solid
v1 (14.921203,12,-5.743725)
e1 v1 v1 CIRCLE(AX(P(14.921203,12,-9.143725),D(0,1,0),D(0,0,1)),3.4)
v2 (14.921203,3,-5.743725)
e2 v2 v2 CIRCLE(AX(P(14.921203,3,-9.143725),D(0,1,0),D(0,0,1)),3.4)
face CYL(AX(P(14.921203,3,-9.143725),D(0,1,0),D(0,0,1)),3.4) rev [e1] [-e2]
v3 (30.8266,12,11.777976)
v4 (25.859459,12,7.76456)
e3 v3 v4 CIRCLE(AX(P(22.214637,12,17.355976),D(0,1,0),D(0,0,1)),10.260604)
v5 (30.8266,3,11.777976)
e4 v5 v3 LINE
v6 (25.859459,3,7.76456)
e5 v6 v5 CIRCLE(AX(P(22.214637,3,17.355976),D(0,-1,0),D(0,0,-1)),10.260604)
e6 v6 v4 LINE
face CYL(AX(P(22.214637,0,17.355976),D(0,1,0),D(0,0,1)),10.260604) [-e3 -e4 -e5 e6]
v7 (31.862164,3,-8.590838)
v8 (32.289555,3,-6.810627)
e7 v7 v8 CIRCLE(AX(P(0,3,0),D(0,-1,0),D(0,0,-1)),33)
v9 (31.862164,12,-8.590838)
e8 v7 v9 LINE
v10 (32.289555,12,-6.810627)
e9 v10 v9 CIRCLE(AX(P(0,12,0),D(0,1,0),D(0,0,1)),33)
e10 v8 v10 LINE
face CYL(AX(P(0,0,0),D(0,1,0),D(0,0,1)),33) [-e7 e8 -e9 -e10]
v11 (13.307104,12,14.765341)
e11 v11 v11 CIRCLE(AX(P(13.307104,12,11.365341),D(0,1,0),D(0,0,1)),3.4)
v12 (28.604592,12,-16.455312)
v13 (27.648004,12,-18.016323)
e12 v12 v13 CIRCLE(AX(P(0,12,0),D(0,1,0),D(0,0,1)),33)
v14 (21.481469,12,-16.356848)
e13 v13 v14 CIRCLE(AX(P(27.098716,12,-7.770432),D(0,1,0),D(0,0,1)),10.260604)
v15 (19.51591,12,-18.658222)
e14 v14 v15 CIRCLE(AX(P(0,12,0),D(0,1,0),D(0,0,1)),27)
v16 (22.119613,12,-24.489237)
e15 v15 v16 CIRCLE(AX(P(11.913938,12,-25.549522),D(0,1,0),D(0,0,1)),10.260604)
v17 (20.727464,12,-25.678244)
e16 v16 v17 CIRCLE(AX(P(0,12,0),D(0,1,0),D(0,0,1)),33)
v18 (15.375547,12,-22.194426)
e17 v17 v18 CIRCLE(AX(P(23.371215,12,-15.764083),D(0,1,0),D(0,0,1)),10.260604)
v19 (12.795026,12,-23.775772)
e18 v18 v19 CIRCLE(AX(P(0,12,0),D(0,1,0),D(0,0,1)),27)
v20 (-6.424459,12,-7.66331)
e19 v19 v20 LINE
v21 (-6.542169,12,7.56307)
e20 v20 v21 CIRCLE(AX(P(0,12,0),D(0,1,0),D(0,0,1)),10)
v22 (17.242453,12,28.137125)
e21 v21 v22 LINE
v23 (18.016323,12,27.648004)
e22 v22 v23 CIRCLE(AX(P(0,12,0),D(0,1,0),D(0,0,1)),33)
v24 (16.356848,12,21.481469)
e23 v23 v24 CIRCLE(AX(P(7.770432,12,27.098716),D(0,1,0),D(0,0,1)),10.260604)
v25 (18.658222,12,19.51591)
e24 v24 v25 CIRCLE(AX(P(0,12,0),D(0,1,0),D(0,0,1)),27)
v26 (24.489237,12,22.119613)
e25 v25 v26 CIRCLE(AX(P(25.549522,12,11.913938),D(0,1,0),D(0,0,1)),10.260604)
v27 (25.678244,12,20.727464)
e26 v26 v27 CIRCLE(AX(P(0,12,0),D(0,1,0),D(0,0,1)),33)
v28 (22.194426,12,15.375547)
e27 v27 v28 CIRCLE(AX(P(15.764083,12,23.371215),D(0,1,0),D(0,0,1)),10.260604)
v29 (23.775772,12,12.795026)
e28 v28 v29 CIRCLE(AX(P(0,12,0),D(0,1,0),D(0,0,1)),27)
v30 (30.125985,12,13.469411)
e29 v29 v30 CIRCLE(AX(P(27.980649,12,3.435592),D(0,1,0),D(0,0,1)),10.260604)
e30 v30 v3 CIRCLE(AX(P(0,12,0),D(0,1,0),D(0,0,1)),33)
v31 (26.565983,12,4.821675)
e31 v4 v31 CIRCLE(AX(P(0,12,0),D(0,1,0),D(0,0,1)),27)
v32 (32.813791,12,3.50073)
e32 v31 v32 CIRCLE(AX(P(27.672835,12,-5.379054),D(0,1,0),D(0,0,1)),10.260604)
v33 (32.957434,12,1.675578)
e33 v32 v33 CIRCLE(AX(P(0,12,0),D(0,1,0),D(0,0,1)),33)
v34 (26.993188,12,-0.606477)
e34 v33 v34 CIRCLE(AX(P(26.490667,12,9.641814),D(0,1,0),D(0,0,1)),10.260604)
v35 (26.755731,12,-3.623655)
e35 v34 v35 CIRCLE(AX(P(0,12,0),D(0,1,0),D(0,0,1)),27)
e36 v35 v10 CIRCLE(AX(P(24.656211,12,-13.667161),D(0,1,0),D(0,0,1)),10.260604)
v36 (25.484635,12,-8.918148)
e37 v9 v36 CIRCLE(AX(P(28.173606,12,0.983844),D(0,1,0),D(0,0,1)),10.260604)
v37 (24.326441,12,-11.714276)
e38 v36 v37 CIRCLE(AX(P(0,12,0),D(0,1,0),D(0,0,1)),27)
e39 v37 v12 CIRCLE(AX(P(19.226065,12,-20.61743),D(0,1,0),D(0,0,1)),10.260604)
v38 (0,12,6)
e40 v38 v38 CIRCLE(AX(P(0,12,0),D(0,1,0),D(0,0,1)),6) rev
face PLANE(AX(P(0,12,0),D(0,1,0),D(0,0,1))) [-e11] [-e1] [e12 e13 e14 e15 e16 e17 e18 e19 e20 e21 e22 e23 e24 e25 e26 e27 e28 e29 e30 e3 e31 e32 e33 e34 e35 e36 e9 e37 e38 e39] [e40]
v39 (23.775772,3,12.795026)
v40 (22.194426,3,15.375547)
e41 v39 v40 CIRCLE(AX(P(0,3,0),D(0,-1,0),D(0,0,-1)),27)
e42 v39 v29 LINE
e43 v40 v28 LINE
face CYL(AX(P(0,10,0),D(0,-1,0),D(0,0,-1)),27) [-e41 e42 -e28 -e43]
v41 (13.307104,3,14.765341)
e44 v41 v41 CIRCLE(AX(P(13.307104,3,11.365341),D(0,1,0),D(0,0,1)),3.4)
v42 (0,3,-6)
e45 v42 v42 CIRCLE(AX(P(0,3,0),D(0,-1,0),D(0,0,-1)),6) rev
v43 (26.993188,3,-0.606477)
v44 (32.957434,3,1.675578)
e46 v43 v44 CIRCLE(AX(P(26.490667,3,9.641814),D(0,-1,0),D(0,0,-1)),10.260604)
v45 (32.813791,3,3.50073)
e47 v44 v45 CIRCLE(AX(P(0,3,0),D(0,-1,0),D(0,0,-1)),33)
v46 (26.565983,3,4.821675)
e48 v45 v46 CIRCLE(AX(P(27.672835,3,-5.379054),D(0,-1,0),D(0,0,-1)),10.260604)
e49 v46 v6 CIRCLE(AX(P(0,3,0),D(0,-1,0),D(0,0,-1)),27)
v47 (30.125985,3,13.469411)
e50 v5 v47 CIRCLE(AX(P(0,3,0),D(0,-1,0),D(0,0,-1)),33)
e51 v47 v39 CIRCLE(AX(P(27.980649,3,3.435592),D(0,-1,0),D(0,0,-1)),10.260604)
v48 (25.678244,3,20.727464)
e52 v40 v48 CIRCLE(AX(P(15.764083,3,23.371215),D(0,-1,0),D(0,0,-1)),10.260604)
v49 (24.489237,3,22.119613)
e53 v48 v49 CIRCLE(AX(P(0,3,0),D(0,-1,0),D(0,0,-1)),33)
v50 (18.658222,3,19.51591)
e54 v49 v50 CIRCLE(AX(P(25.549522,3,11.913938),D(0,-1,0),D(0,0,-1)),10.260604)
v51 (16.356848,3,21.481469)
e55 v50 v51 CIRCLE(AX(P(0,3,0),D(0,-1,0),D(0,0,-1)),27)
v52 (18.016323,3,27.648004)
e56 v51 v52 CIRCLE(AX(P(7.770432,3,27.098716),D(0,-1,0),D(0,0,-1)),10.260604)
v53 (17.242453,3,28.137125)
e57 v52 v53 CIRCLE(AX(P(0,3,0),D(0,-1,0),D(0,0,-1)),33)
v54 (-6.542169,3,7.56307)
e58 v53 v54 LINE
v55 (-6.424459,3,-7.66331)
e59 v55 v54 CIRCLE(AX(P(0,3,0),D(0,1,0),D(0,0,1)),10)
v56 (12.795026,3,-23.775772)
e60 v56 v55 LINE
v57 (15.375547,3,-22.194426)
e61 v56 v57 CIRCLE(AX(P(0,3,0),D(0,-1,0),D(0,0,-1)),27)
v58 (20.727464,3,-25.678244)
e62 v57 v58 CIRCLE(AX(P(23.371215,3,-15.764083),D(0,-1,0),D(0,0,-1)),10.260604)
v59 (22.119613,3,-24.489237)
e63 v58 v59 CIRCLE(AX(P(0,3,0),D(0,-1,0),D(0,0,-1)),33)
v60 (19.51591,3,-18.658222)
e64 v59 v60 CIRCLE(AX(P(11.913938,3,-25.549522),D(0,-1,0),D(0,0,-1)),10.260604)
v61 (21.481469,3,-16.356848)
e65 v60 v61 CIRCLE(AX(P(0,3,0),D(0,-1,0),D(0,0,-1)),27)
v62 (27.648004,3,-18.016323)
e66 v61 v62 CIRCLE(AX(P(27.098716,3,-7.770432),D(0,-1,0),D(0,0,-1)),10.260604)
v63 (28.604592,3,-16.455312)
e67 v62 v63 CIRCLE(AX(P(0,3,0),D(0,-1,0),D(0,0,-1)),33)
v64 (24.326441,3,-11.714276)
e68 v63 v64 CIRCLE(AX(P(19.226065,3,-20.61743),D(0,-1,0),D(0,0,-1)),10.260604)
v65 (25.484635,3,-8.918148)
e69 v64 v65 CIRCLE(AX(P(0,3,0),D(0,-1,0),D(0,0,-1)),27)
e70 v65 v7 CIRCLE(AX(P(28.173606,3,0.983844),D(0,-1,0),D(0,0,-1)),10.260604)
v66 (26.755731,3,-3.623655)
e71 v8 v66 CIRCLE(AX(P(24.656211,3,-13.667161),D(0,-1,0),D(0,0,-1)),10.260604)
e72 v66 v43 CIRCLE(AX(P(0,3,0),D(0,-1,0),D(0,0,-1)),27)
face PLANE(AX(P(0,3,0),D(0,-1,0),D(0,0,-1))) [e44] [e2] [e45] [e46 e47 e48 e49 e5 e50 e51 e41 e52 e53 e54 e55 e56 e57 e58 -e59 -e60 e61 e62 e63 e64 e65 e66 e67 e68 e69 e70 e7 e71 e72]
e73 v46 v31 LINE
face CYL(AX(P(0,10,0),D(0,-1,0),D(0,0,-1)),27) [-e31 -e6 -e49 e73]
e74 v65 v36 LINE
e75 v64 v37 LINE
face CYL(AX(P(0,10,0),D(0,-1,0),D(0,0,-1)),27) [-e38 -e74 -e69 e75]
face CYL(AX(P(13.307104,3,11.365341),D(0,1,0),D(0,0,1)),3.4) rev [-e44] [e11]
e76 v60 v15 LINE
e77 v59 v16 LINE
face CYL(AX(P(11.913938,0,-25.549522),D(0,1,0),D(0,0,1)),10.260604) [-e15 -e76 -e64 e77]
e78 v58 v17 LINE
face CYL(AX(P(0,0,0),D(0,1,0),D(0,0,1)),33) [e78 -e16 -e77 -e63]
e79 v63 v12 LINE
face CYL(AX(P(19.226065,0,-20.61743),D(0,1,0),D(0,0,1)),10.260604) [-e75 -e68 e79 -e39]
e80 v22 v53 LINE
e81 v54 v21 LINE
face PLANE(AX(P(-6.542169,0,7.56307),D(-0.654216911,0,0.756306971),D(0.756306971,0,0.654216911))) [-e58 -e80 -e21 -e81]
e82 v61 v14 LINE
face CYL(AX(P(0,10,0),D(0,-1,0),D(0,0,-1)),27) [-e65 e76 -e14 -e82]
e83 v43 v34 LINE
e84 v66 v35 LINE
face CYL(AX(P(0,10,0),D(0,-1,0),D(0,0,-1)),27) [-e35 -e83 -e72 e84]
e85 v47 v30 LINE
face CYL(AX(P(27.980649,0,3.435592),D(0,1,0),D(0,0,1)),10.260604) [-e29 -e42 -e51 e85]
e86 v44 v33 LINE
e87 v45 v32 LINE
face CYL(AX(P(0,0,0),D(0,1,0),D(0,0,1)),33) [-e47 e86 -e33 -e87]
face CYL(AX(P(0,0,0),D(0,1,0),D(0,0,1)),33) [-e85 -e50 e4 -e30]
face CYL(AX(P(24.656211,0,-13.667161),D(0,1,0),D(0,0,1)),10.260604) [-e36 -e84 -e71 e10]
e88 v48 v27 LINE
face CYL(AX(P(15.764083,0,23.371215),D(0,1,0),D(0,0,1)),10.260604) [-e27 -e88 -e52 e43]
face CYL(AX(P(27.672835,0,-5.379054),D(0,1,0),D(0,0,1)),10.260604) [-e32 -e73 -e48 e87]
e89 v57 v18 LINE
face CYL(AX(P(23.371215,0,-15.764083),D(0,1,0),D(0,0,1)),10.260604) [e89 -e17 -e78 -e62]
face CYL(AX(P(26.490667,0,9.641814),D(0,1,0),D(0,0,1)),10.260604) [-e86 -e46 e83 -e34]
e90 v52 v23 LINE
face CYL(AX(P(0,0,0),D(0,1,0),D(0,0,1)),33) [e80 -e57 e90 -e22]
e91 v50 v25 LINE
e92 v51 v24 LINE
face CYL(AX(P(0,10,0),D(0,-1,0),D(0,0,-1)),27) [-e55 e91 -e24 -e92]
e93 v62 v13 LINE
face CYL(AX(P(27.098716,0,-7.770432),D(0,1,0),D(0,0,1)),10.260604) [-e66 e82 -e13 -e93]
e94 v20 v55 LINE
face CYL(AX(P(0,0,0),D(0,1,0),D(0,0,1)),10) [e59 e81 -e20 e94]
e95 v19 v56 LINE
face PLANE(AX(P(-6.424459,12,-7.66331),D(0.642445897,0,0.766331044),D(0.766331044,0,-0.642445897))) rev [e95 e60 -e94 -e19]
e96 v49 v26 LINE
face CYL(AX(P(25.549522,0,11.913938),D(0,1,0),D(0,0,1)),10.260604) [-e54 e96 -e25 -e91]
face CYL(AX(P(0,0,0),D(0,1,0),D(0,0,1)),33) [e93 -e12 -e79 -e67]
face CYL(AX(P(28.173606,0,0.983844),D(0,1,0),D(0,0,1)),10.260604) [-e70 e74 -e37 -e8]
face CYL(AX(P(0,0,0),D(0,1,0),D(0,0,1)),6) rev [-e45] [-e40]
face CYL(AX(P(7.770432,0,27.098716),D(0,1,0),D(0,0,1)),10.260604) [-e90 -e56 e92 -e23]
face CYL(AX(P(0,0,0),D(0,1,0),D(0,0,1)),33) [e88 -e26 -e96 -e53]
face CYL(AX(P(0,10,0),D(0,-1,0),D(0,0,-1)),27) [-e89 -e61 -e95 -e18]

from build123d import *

# Parameters (mm, degrees)
EXTRUDE_2_DEPTH      = 10
EXTRUDE_START        = -10
EXTRUDE_3_DEPTH      = 10
CUT_EXTRUDE_2_DEPTH  = 48.669538272
SKETCH_6_R           = 6
CUT_EXTRUDE_3_DEPTH  = 10
EXTRUDE_5_DEPTH      = 10
CUT_EXTRUDE_5_DEPTH  = 10
CUT_EXTRUDE_START    = -10
CUT_EXTRUDE_6_DEPTH  = 10
FILLET_1_R           = 10
EXTRUDE_7_DEPTH      = 10
CUT_EXTRUDE_START_2  = -7
CUT_EXTRUDE_8_DEPTH  = 7
SKETCH_18_R          = 6
EXTRUDE_8_DEPTH      = 9
CUT_EXTRUDE_9_DEPTH  = 3
SKETCH_20_R          = 3.4
CUT_EXTRUDE_10_DEPTH = 45.259352307


with BuildPart() as part:
    # 草图1 → 凸台-拉伸2 (new body)
    with BuildSketch(Plane(origin=(0, 0, 0), x_dir=(1, 0, 0), z_dir=(0, 1, 0))):
        with BuildLine():
            ThreePointArc((-0.606477084, 26.993187762), (-18.876243253, -19.305114365), (27, 0))
            ThreePointArc((27, 0), (20.726616116, 17.303392279), (4.821675232, 26.56598291))
            ThreePointArc((4.821675232, 26.56598291), (2.118395585, 26.916768011), (-0.606477084, 26.993187762))
        make_face()
    extrude(amount=EXTRUDE_2_DEPTH)

    # 草图3 → 凸台-拉伸3 (add)
    with BuildSketch(Plane(origin=(0, 10, 0), x_dir=(1, 0, 0), z_dir=(0, 1, 0)).offset(EXTRUDE_START)):
        with BuildLine():
            ThreePointArc((26.755730746, 3.623654542), (29.776890365, 4.775668185), (32.289554959, 6.810627033))
            ThreePointArc((32.289554959, 6.810627033), (32.088207373, 7.703697007), (31.862164101, 8.590838072))
            ThreePointArc((31.862164101, 8.590838072), (28.699511571, 9.263273827), (25.484635391, 8.918147734))
            ThreePointArc((25.484635391, 8.918147734), (26.253987851, 6.303024824), (26.755730746, 3.623654542))
        make_face()
        with BuildLine():
            ThreePointArc((32.813791147, -3.500730003), (32.898272013, -2.589150159), (32.957433752, -1.675577656))
            ThreePointArc((32.957433752, -1.675577656), (30.15736653, -0.05873987), (26.993187762, 0.606477084))
            ThreePointArc((26.993187762, 0.606477084), (26.916768011, -2.118395585), (26.56598291, -4.821675232))
            ThreePointArc((26.56598291, -4.821675232), (29.795268245, -4.659634815), (32.813791147, -3.500730003))
        make_face()
        with BuildLine():
            ThreePointArc((24.326441239, 11.714275763), (26.843742988, 13.743495509), (28.604592156, 16.455312443))
            ThreePointArc((28.604592156, 16.455312443), (28.137125424, 17.242452636), (27.648003832, 18.016322714))
            ThreePointArc((27.648003832, 18.016322714), (24.432348458, 17.678533741), (21.481469346, 16.356847947))
            ThreePointArc((21.481469346, 16.356847947), (23.021284438, 14.107461247), (24.326441239, 11.714275763))
        make_face()
        with BuildLine():
            ThreePointArc((30.125984831, -13.469411196), (30.488024573, -12.628553268), (30.826600159, -11.777976169))
            ThreePointArc((30.826600159, -11.777976169), (28.663208335, -9.3750037), (25.859458842, -7.764559768))
            ThreePointArc((25.859458842, -7.764559768), (24.944747378, -10.332452674), (23.77577157, -12.79502584))
            ThreePointArc((23.77577157, -12.79502584), (26.897077674, -13.638820294), (30.125984831, -13.469411196))
        make_face()
        with BuildLine():
            ThreePointArc((19.515910171, 18.658222053), (21.282943016, 21.366013737), (22.119612574, 24.48923722))
            ThreePointArc((22.119612574, 24.48923722), (21.431785595, 25.093396865), (20.727464312, 25.678244161))
            ThreePointArc((20.727464312, 25.678244161), (17.773576848, 24.363295599), (15.375547411, 22.194425918))
            ThreePointArc((15.375547411, 22.194425918), (17.535097305, 20.530961071), (19.515910171, 18.658222053))
        make_face()
        with BuildLine():
            ThreePointArc((24.48923722, -22.119612574), (25.093396865, -21.431785595), (25.678244161, -20.727464312))
            ThreePointArc((25.678244161, -20.727464312), (24.363295599, -17.773576848), (22.194425918, -15.375547411))
            ThreePointArc((22.194425918, -15.375547411), (20.530961071, -17.535097305), (18.658222053, -19.515910171))
            ThreePointArc((18.658222053, -19.515910171), (21.366013737, -21.282943016), (24.48923722, -22.119612574))
        make_face()
        with BuildLine():
            ThreePointArc((12.79502584, 23.77577157), (13.638820294, 26.897077674), (13.469411196, 30.125984831))
            ThreePointArc((13.469411196, 30.125984831), (12.628553268, 30.488024573), (11.777976169, 30.826600159))
            ThreePointArc((11.777976169, 30.826600159), (9.3750037, 28.663208335), (7.764559768, 25.859458842))
            ThreePointArc((7.764559768, 25.859458842), (10.332452674, 24.944747378), (12.79502584, 23.77577157))
        make_face()
        with BuildLine():
            ThreePointArc((16.455312443, -28.604592156), (17.242452636, -28.137125424), (18.016322714, -27.648003832))
            ThreePointArc((18.016322714, -27.648003832), (17.678533741, -24.432348458), (16.356847947, -21.481469346))
            ThreePointArc((16.356847947, -21.481469346), (14.107461247, -23.021284438), (11.714275763, -24.326441239))
            ThreePointArc((11.714275763, -24.326441239), (13.743495509, -26.843742988), (16.455312443, -28.604592156))
        make_face()
        with BuildLine():
            ThreePointArc((4.821675232, 26.56598291), (4.659634815, 29.795268245), (3.500730003, 32.813791147))
            ThreePointArc((3.500730003, 32.813791147), (2.589150159, 32.898272013), (1.675577656, 32.957433752))
            ThreePointArc((1.675577656, 32.957433752), (0.05873987, 30.15736653), (-0.606477084, 26.993187762))
            ThreePointArc((-0.606477084, 26.993187762), (2.118395585, 26.916768011), (4.821675232, 26.56598291))
        make_face()
        with BuildLine():
            ThreePointArc((6.810627033, -32.289554959), (7.703697007, -32.088207373), (8.590838072, -31.862164101))
            ThreePointArc((8.590838072, -31.862164101), (9.263273827, -28.699511571), (8.918147734, -25.484635391))
            ThreePointArc((8.918147734, -25.484635391), (6.303024824, -26.253987851), (3.623654542, -26.755730746))
            ThreePointArc((3.623654542, -26.755730746), (4.775668185, -29.776890365), (6.810627033, -32.289554959))
        make_face()
        with BuildLine():
            ThreePointArc((-3.623654542, 26.755730746), (-4.775668185, 29.776890365), (-6.810627033, 32.289554959))
            ThreePointArc((-6.810627033, 32.289554959), (-7.703697007, 32.088207373), (-8.590838072, 31.862164101))
            ThreePointArc((-8.590838072, 31.862164101), (-9.263273827, 28.699511571), (-8.918147734, 25.484635391))
            ThreePointArc((-8.918147734, 25.484635391), (-6.303024824, 26.253987851), (-3.623654542, 26.755730746))
        make_face()
        with BuildLine():
            ThreePointArc((-3.500730003, -32.813791147), (-2.589150159, -32.898272013), (-1.675577656, -32.957433752))
            ThreePointArc((-1.675577656, -32.957433752), (-0.05873987, -30.15736653), (0.606477084, -26.993187762))
            ThreePointArc((0.606477084, -26.993187762), (-2.118395585, -26.916768011), (-4.821675232, -26.56598291))
            ThreePointArc((-4.821675232, -26.56598291), (-4.659634815, -29.795268245), (-3.500730003, -32.813791147))
        make_face()
        with BuildLine():
            ThreePointArc((-11.714275763, 24.326441239), (-13.743495509, 26.843742988), (-16.455312443, 28.604592156))
            ThreePointArc((-16.455312443, 28.604592156), (-17.242452636, 28.137125424), (-18.016322714, 27.648003832))
            ThreePointArc((-18.016322714, 27.648003832), (-17.678533741, 24.432348458), (-16.356847947, 21.481469346))
            ThreePointArc((-16.356847947, 21.481469346), (-14.107461247, 23.021284438), (-11.714275763, 24.326441239))
        make_face()
        with BuildLine():
            ThreePointArc((-13.469411196, -30.125984831), (-12.628553268, -30.488024573), (-11.777976169, -30.826600159))
            ThreePointArc((-11.777976169, -30.826600159), (-9.3750037, -28.663208335), (-7.764559768, -25.859458842))
            ThreePointArc((-7.764559768, -25.859458842), (-10.332452674, -24.944747378), (-12.79502584, -23.77577157))
            ThreePointArc((-12.79502584, -23.77577157), (-13.638820294, -26.897077674), (-13.469411196, -30.125984831))
        make_face()
        with BuildLine():
            ThreePointArc((-18.658222053, 19.515910171), (-21.366013737, 21.282943016), (-24.48923722, 22.119612574))
            ThreePointArc((-24.48923722, 22.119612574), (-25.093396865, 21.431785595), (-25.678244161, 20.727464312))
            ThreePointArc((-25.678244161, 20.727464312), (-24.363295599, 17.773576848), (-22.194425918, 15.375547411))
            ThreePointArc((-22.194425918, 15.375547411), (-20.530961071, 17.535097305), (-18.658222053, 19.515910171))
        make_face()
        with BuildLine():
            ThreePointArc((-22.119612574, -24.48923722), (-21.431785595, -25.093396865), (-20.727464312, -25.678244161))
            ThreePointArc((-20.727464312, -25.678244161), (-17.773576848, -24.363295599), (-15.375547411, -22.194425918))
            ThreePointArc((-15.375547411, -22.194425918), (-17.535097305, -20.530961071), (-19.515910171, -18.658222053))
            ThreePointArc((-19.515910171, -18.658222053), (-21.282943016, -21.366013737), (-22.119612574, -24.48923722))
        make_face()
        with BuildLine():
            ThreePointArc((-23.77577157, 12.79502584), (-26.897077674, 13.638820294), (-30.125984831, 13.469411196))
            ThreePointArc((-30.125984831, 13.469411196), (-30.488024573, 12.628553268), (-30.826600159, 11.777976169))
            ThreePointArc((-30.826600159, 11.777976169), (-28.663208335, 9.3750037), (-25.859458842, 7.764559768))
            ThreePointArc((-25.859458842, 7.764559768), (-24.944747378, 10.332452674), (-23.77577157, 12.79502584))
        make_face()
        with BuildLine():
            ThreePointArc((-28.604592156, -16.455312443), (-28.137125424, -17.242452636), (-27.648003832, -18.016322714))
            ThreePointArc((-27.648003832, -18.016322714), (-24.432348458, -17.678533741), (-21.481469346, -16.356847947))
            ThreePointArc((-21.481469346, -16.356847947), (-23.021284438, -14.107461247), (-24.326441239, -11.714275763))
            ThreePointArc((-24.326441239, -11.714275763), (-26.843742988, -13.743495509), (-28.604592156, -16.455312443))
        make_face()
        with BuildLine():
            ThreePointArc((-26.56598291, 4.821675232), (-29.795268245, 4.659634815), (-32.813791147, 3.500730003))
            ThreePointArc((-32.813791147, 3.500730003), (-32.898272013, 2.589150159), (-32.957433752, 1.675577656))
            ThreePointArc((-32.957433752, 1.675577656), (-30.15736653, 0.05873987), (-26.993187762, -0.606477084))
            ThreePointArc((-26.993187762, -0.606477084), (-26.916768011, 2.118395585), (-26.56598291, 4.821675232))
        make_face()
        with BuildLine():
            ThreePointArc((-32.289554959, -6.810627033), (-32.088207373, -7.703697007), (-31.862164101, -8.590838072))
            ThreePointArc((-31.862164101, -8.590838072), (-28.699511571, -9.263273827), (-25.484635391, -8.918147734))
            ThreePointArc((-25.484635391, -8.918147734), (-26.253987851, -6.303024824), (-26.755730746, -3.623654542))
            ThreePointArc((-26.755730746, -3.623654542), (-29.776890365, -4.775668185), (-32.289554959, -6.810627033))
        make_face()
    extrude(amount=EXTRUDE_3_DEPTH)

    # 草图4 → 切除-拉伸2 (cut, through all)
    with BuildSketch(Plane(origin=(0, 10, 0), x_dir=(1, 0, 0), z_dir=(0, 1, 0))):
        with BuildLine():
            Line((68.70942434, -72.656830422), (-6.542169106, -7.563069707))
            ThreePointArc((-6.542169106, -7.563069707), (-9.614988938, -2.748088014), (-9.550796477, 2.963492306))
            Line((-9.550796477, 2.963492306), (-2.118395585, 26.916768011))
            Line((-2.118395585, 26.916768011), (19.935579671, 97.992717399))
            ThreePointArc((19.935579671, 97.992717399), (-96.149889375, -27.480880138), (68.70942434, -72.656830422))
        make_face()
    extrude(amount=-CUT_EXTRUDE_2_DEPTH, mode=Mode.SUBTRACT)

    # 草图6 → 切除-拉伸3 (cut)
    with BuildSketch(Plane(origin=(0, 10, 0), x_dir=(1, 0, 0), z_dir=(0, 1, 0))):
        Circle(SKETCH_6_R)
    extrude(amount=-CUT_EXTRUDE_3_DEPTH, mode=Mode.SUBTRACT)

    # 草图9 → 凸台-拉伸5 (add)
    with BuildSketch(Plane(origin=(0, 10, 0), x_dir=(1, 0, 0), z_dir=(0, 1, 0)).offset(EXTRUDE_START)):
        with BuildLine():
            Line((-18.337271569, 36.810995995), (-10, 0))
            ThreePointArc((-10, 0), (-9.887061363, 1.49867195), (-9.550796477, 2.963492306))
            Line((-9.550796477, 2.963492306), (-2.118395585, 26.916768011))
            ThreePointArc((-2.118395585, 26.916768011), (-1.362972032, 26.965576338), (-0.606477084, 26.993187762))
            ThreePointArc((-0.606477084, 26.993187762), (0.05873987, 30.15736653), (1.675577656, 32.957433752))
            ThreePointArc((1.675577656, 32.957433752), (2.589150159, 32.898272013), (3.500730003, 32.813791147))
            ThreePointArc((3.500730003, 32.813791147), (4.659634815, 29.795268245), (4.821675232, 26.56598291))
            Line((4.821675232, 26.56598291), (7.168022985, 33.612773021))
            ThreePointArc((7.168022985, 33.612773021), (-5.303969741, 37.450057719), (-18.337271569, 36.810995995))
        make_face()
    extrude(amount=EXTRUDE_5_DEPTH)

    # 草图10 → 切除-拉伸5 (cut)
    with BuildSketch(Plane(origin=(0, 10, 0), x_dir=(1, 0, 0), z_dir=(0, 1, 0))):
        with BuildLine():
            ThreePointArc((-5.279363296, 23.309618684), (-1.860818549, 25.451670203), (-0.526815852, 29.258935587))
            ThreePointArc((-0.526815852, 29.258935587), (-11.392813156, 33.06620097), (-5.279363296, 23.309618684))
        make_face()
    extrude(amount=-CUT_EXTRUDE_5_DEPTH, mode=Mode.SUBTRACT)

    # 草图11 → 切除-拉伸6 (cut)
    with BuildSketch(Plane(origin=(0, 10, 0), x_dir=(1, 0, 0), z_dir=(0, 1, 0)).offset(CUT_EXTRUDE_START)):
        with BuildLine():
            Line((0, 36.394498532), (3.500730003, 32.813791147))
            ThreePointArc((3.500730003, 32.813791147), (4.659634815, 29.795268245), (4.821675232, 26.56598291))
            Line((4.821675232, 26.56598291), (7.168022985, 33.612773021))
            ThreePointArc((7.168022985, 33.612773021), (3.655030847, 35.186640305), (0, 36.394498532))
        make_face()
    extrude(amount=CUT_EXTRUDE_6_DEPTH, mode=Mode.SUBTRACT)

    # 圆角1
    fillet_1_edges = [part.edges().sort_by_distance(p)[0] for p in [
        (-18.337271569, 5, -36.810995995),
    ]]
    fillet(fillet_1_edges, radius=FILLET_1_R)

    # 草图16 → 凸台-拉伸7 (add)
    with BuildSketch(Plane(origin=(0, 10, 0), x_dir=(1, 0, 0), z_dir=(0, 1, 0)).offset(EXTRUDE_START)):
        with BuildLine():
            Line((-14.687023148, 20.694298958), (-15.716384779, 25.239170332))
            ThreePointArc((-15.716384779, 25.239170332), (-13.300434171, 34.242814336), (-4.508428545, 37.341694744))
            ThreePointArc((-4.508428545, 37.341694744), (-2.23974925, 36.936946702), (0, 36.394498532))
            Line((0, 36.394498532), (3.500730003, 32.813791147))
            ThreePointArc((3.500730003, 32.813791147), (4.659634815, 29.795268245), (4.821675232, 26.56598291))
            ThreePointArc((4.821675232, 26.56598291), (5.055758182, 27.903426031), (5.134134034, 29.258935587))
            ThreePointArc((5.134134034, 29.258935587), (-11.291805035, 40.055130201), (-14.687023148, 20.694298958))
        make_face()
    extrude(amount=EXTRUDE_7_DEPTH)

    # 草图17 → 切除-拉伸8 (cut)
    with BuildSketch(Plane(origin=(0, 10, 0), x_dir=(1, 0, 0), z_dir=(0, 1, 0)).offset(CUT_EXTRUDE_START_2)):
        with BuildLine():
            Line((-14.687023148, 20.694298958), (-10, 0))
            ThreePointArc((-10, 0), (-9.09455032, -4.158022904), (-6.542169106, -7.563069707))
            Line((-6.542169106, -7.563069707), (17.242452636, -28.137125424))
            ThreePointArc((17.242452636, -28.137125424), (17.631083908, -27.895248345), (18.016322714, -27.648003832))
            ThreePointArc((18.016322714, -27.648003832), (17.678533741, -24.432348458), (16.356847947, -21.481469346))
            ThreePointArc((16.356847947, -21.481469346), (17.535097305, -20.530961071), (18.658222053, -19.515910171))
            ThreePointArc((18.658222053, -19.515910171), (21.366013737, -21.282943016), (24.48923722, -22.119612574))
            ThreePointArc((24.48923722, -22.119612574), (25.093396865, -21.431785595), (25.678244161, -20.727464312))
            ThreePointArc((25.678244161, -20.727464312), (24.363295599, -17.773576848), (22.194425918, -15.375547411))
            ThreePointArc((22.194425918, -15.375547411), (23.021284438, -14.107461247), (23.77577157, -12.79502584))
            ThreePointArc((23.77577157, -12.79502584), (26.897077674, -13.638820294), (30.125984831, -13.469411196))
            ThreePointArc((30.125984831, -13.469411196), (30.488024573, -12.628553268), (30.826600159, -11.777976169))
            ThreePointArc((30.826600159, -11.777976169), (28.663208335, -9.3750037), (25.859458842, -7.764559768))
            ThreePointArc((25.859458842, -7.764559768), (26.253987851, -6.303024824), (26.56598291, -4.821675232))
            ThreePointArc((26.56598291, -4.821675232), (29.795268245, -4.659634815), (32.813791147, -3.500730003))
            ThreePointArc((32.813791147, -3.500730003), (32.898272013, -2.589150159), (32.957433752, -1.675577656))
            ThreePointArc((32.957433752, -1.675577656), (30.15736653, -0.05873987), (26.993187762, 0.606477084))
            ThreePointArc((26.993187762, 0.606477084), (26.916768011, 2.118395585), (26.755730746, 3.623654542))
            ThreePointArc((26.755730746, 3.623654542), (29.776890365, 4.775668185), (32.289554959, 6.810627033))
            ThreePointArc((32.289554959, 6.810627033), (32.088207373, 7.703697007), (31.862164101, 8.590838072))
            ThreePointArc((31.862164101, 8.590838072), (28.699511571, 9.263273827), (25.484635391, 8.918147734))
            ThreePointArc((25.484635391, 8.918147734), (24.944747378, 10.332452674), (24.326441239, 11.714275763))
            ThreePointArc((24.326441239, 11.714275763), (26.843742988, 13.743495509), (28.604592156, 16.455312443))
            ThreePointArc((28.604592156, 16.455312443), (28.137125424, 17.242452636), (27.648003832, 18.016322714))
            ThreePointArc((27.648003832, 18.016322714), (24.432348458, 17.678533741), (21.481469346, 16.356847947))
            ThreePointArc((21.481469346, 16.356847947), (20.530961071, 17.535097305), (19.515910171, 18.658222053))
            ThreePointArc((19.515910171, 18.658222053), (21.282943016, 21.366013737), (22.119612574, 24.48923722))
            ThreePointArc((22.119612574, 24.48923722), (21.431785595, 25.093396865), (20.727464312, 25.678244161))
            ThreePointArc((20.727464312, 25.678244161), (17.773576848, 24.363295599), (15.375547411, 22.194425918))
            ThreePointArc((15.375547411, 22.194425918), (14.107461247, 23.021284438), (12.79502584, 23.77577157))
            ThreePointArc((12.79502584, 23.77577157), (13.638820294, 26.897077674), (13.469411196, 30.125984831))
            ThreePointArc((13.469411196, 30.125984831), (12.628553268, 30.488024573), (11.777976169, 30.826600159))
            ThreePointArc((11.777976169, 30.826600159), (9.3750037, 28.663208335), (7.764559768, 25.859458842))
            ThreePointArc((7.764559768, 25.859458842), (6.303024824, 26.253987851), (4.821675232, 26.56598291))
            ThreePointArc((4.821675232, 26.56598291), (-10.016400615, 40.520847385), (-14.687023148, 20.694298958))
        make_face()
    extrude(amount=CUT_EXTRUDE_8_DEPTH, mode=Mode.SUBTRACT)

    # 草图18 → 凸台-拉伸8 (add)
    with BuildSketch(Plane(origin=(0, 3, 0), x_dir=(1, 0, 0), z_dir=(0, 1, 0))):
        with BuildLine():
            ThreePointArc((15.375547411, 22.194425918), (14.107461247, 23.021284438), (12.79502584, 23.77577157))
            Line((12.79502584, 23.77577157), (-6.424458971, 7.663310442))
            ThreePointArc((-6.424458971, 7.663310442), (-9.999701197, 0.0773044), (-6.542169106, -7.563069707))
            Line((-6.542169106, -7.563069707), (17.242452636, -28.137125424))
            ThreePointArc((17.242452636, -28.137125424), (17.631083908, -27.895248345), (18.016322714, -27.648003832))
            ThreePointArc((18.016322714, -27.648003832), (17.678533741, -24.432348458), (16.356847947, -21.481469346))
            ThreePointArc((16.356847947, -21.481469346), (17.535097305, -20.530961071), (18.658222053, -19.515910171))
            ThreePointArc((18.658222053, -19.515910171), (21.366013737, -21.282943016), (24.48923722, -22.119612574))
            ThreePointArc((24.48923722, -22.119612574), (25.093396865, -21.431785595), (25.678244161, -20.727464312))
            ThreePointArc((25.678244161, -20.727464312), (24.363295599, -17.773576848), (22.194425918, -15.375547411))
            ThreePointArc((22.194425918, -15.375547411), (23.021284438, -14.107461247), (23.77577157, -12.79502584))
            ThreePointArc((23.77577157, -12.79502584), (26.897077674, -13.638820294), (30.125984831, -13.469411196))
            ThreePointArc((30.125984831, -13.469411196), (30.488024573, -12.628553268), (30.826600159, -11.777976169))
            ThreePointArc((30.826600159, -11.777976169), (28.663208335, -9.3750037), (25.859458842, -7.764559768))
            ThreePointArc((25.859458842, -7.764559768), (26.253987851, -6.303024824), (26.56598291, -4.821675232))
            ThreePointArc((26.56598291, -4.821675232), (29.795268245, -4.659634815), (32.813791147, -3.500730003))
            ThreePointArc((32.813791147, -3.500730003), (32.898272013, -2.589150159), (32.957433752, -1.675577656))
            ThreePointArc((32.957433752, -1.675577656), (30.15736653, -0.05873987), (26.993187762, 0.606477084))
            ThreePointArc((26.993187762, 0.606477084), (26.916768011, 2.118395585), (26.755730746, 3.623654542))
            ThreePointArc((26.755730746, 3.623654542), (29.776890365, 4.775668185), (32.289554959, 6.810627033))
            ThreePointArc((32.289554959, 6.810627033), (32.088207373, 7.703697007), (31.862164101, 8.590838072))
            ThreePointArc((31.862164101, 8.590838072), (28.699511571, 9.263273827), (25.484635391, 8.918147734))
            ThreePointArc((25.484635391, 8.918147734), (24.944747378, 10.332452674), (24.326441239, 11.714275763))
            ThreePointArc((24.326441239, 11.714275763), (26.843742988, 13.743495509), (28.604592156, 16.455312443))
            ThreePointArc((28.604592156, 16.455312443), (28.137125424, 17.242452636), (27.648003832, 18.016322714))
            ThreePointArc((27.648003832, 18.016322714), (24.432348458, 17.678533741), (21.481469346, 16.356847947))
            ThreePointArc((21.481469346, 16.356847947), (20.530961071, 17.535097305), (19.515910171, 18.658222053))
            ThreePointArc((19.515910171, 18.658222053), (21.282943016, 21.366013737), (22.119612574, 24.48923722))
            ThreePointArc((22.119612574, 24.48923722), (21.431785595, 25.093396865), (20.727464312, 25.678244161))
            ThreePointArc((20.727464312, 25.678244161), (17.773576848, 24.363295599), (15.375547411, 22.194425918))
        make_face()
        Circle(SKETCH_18_R, mode=Mode.SUBTRACT)
    extrude(amount=EXTRUDE_8_DEPTH)

    # 草图19 → 切除-拉伸9 (cut)
    with BuildSketch(Plane.XZ):
        with BuildLine():
            Line((-10, 0), (-14.687023148, -20.694298958))
            ThreePointArc((-14.687023148, -20.694298958), (-10.016400615, -40.520847385), (4.821675232, -26.56598291))
            ThreePointArc((4.821675232, -26.56598291), (6.303024824, -26.253987851), (7.764559768, -25.859458842))
            ThreePointArc((7.764559768, -25.859458842), (9.3750037, -28.663208335), (11.777976169, -30.826600159))
            ThreePointArc((11.777976169, -30.826600159), (12.628553268, -30.488024573), (13.469411196, -30.125984831))
            ThreePointArc((13.469411196, -30.125984831), (13.638820294, -26.897077674), (12.79502584, -23.77577157))
            ThreePointArc((12.79502584, -23.77577157), (14.107461247, -23.021284438), (15.375547411, -22.194425918))
            ThreePointArc((15.375547411, -22.194425918), (17.773576848, -24.363295599), (20.727464312, -25.678244161))
            ThreePointArc((20.727464312, -25.678244161), (21.431785595, -25.093396865), (22.119612574, -24.48923722))
            ThreePointArc((22.119612574, -24.48923722), (21.282943016, -21.366013737), (19.515910171, -18.658222053))
            ThreePointArc((19.515910171, -18.658222053), (20.530961071, -17.535097305), (21.481469346, -16.356847947))
            ThreePointArc((21.481469346, -16.356847947), (24.432348458, -17.678533741), (27.648003832, -18.016322714))
            ThreePointArc((27.648003832, -18.016322714), (28.137125424, -17.242452636), (28.604592156, -16.455312443))
            ThreePointArc((28.604592156, -16.455312443), (26.843742988, -13.743495509), (24.326441239, -11.714275763))
            ThreePointArc((24.326441239, -11.714275763), (24.944747378, -10.332452674), (25.484635391, -8.918147734))
            ThreePointArc((25.484635391, -8.918147734), (28.699511571, -9.263273827), (31.862164101, -8.590838072))
            ThreePointArc((31.862164101, -8.590838072), (32.088207373, -7.703697007), (32.289554959, -6.810627033))
            ThreePointArc((32.289554959, -6.810627033), (29.776890365, -4.775668185), (26.755730746, -3.623654542))
            ThreePointArc((26.755730746, -3.623654542), (26.916768011, -2.118395585), (26.993187762, -0.606477084))
            ThreePointArc((26.993187762, -0.606477084), (30.15736653, 0.05873987), (32.957433752, 1.675577656))
            ThreePointArc((32.957433752, 1.675577656), (32.898272013, 2.589150159), (32.813791147, 3.500730003))
            ThreePointArc((32.813791147, 3.500730003), (29.795268245, 4.659634815), (26.56598291, 4.821675232))
            ThreePointArc((26.56598291, 4.821675232), (26.253987851, 6.303024824), (25.859458842, 7.764559768))
            ThreePointArc((25.859458842, 7.764559768), (28.663208335, 9.3750037), (30.826600159, 11.777976169))
            ThreePointArc((30.826600159, 11.777976169), (30.488024573, 12.628553268), (30.125984831, 13.469411196))
            ThreePointArc((30.125984831, 13.469411196), (26.897077674, 13.638820294), (23.77577157, 12.79502584))
            ThreePointArc((23.77577157, 12.79502584), (23.021284438, 14.107461247), (22.194425918, 15.375547411))
            ThreePointArc((22.194425918, 15.375547411), (24.363295599, 17.773576848), (25.678244161, 20.727464312))
            ThreePointArc((25.678244161, 20.727464312), (25.093396865, 21.431785595), (24.48923722, 22.119612574))
            ThreePointArc((24.48923722, 22.119612574), (21.366013737, 21.282943016), (18.658222053, 19.515910171))
            ThreePointArc((18.658222053, 19.515910171), (17.535097305, 20.530961071), (16.356847947, 21.481469346))
            ThreePointArc((16.356847947, 21.481469346), (17.678533741, 24.432348458), (18.016322714, 27.648003832))
            ThreePointArc((18.016322714, 27.648003832), (17.631083908, 27.895248345), (17.242452636, 28.137125424))
            Line((17.242452636, 28.137125424), (-6.542169106, 7.563069707))
            ThreePointArc((-6.542169106, 7.563069707), (-9.09455032, 4.158022904), (-10, 0))
        make_face()
    extrude(amount=-CUT_EXTRUDE_9_DEPTH, mode=Mode.SUBTRACT)

    # 草图20 → 切除-拉伸10 (cut, through all)
    with BuildSketch(Plane(origin=(0, 12, 0), x_dir=(1, 0, 0), z_dir=(0, 1, 0))):
        with Locations((13.307104398, -11.365340846)):
            Circle(SKETCH_20_R)
        with Locations((14.921202876, 9.143724883)):
            Circle(SKETCH_20_R)
    extrude(amount=-CUT_EXTRUDE_10_DEPTH, mode=Mode.SUBTRACT)


solid = part.part
